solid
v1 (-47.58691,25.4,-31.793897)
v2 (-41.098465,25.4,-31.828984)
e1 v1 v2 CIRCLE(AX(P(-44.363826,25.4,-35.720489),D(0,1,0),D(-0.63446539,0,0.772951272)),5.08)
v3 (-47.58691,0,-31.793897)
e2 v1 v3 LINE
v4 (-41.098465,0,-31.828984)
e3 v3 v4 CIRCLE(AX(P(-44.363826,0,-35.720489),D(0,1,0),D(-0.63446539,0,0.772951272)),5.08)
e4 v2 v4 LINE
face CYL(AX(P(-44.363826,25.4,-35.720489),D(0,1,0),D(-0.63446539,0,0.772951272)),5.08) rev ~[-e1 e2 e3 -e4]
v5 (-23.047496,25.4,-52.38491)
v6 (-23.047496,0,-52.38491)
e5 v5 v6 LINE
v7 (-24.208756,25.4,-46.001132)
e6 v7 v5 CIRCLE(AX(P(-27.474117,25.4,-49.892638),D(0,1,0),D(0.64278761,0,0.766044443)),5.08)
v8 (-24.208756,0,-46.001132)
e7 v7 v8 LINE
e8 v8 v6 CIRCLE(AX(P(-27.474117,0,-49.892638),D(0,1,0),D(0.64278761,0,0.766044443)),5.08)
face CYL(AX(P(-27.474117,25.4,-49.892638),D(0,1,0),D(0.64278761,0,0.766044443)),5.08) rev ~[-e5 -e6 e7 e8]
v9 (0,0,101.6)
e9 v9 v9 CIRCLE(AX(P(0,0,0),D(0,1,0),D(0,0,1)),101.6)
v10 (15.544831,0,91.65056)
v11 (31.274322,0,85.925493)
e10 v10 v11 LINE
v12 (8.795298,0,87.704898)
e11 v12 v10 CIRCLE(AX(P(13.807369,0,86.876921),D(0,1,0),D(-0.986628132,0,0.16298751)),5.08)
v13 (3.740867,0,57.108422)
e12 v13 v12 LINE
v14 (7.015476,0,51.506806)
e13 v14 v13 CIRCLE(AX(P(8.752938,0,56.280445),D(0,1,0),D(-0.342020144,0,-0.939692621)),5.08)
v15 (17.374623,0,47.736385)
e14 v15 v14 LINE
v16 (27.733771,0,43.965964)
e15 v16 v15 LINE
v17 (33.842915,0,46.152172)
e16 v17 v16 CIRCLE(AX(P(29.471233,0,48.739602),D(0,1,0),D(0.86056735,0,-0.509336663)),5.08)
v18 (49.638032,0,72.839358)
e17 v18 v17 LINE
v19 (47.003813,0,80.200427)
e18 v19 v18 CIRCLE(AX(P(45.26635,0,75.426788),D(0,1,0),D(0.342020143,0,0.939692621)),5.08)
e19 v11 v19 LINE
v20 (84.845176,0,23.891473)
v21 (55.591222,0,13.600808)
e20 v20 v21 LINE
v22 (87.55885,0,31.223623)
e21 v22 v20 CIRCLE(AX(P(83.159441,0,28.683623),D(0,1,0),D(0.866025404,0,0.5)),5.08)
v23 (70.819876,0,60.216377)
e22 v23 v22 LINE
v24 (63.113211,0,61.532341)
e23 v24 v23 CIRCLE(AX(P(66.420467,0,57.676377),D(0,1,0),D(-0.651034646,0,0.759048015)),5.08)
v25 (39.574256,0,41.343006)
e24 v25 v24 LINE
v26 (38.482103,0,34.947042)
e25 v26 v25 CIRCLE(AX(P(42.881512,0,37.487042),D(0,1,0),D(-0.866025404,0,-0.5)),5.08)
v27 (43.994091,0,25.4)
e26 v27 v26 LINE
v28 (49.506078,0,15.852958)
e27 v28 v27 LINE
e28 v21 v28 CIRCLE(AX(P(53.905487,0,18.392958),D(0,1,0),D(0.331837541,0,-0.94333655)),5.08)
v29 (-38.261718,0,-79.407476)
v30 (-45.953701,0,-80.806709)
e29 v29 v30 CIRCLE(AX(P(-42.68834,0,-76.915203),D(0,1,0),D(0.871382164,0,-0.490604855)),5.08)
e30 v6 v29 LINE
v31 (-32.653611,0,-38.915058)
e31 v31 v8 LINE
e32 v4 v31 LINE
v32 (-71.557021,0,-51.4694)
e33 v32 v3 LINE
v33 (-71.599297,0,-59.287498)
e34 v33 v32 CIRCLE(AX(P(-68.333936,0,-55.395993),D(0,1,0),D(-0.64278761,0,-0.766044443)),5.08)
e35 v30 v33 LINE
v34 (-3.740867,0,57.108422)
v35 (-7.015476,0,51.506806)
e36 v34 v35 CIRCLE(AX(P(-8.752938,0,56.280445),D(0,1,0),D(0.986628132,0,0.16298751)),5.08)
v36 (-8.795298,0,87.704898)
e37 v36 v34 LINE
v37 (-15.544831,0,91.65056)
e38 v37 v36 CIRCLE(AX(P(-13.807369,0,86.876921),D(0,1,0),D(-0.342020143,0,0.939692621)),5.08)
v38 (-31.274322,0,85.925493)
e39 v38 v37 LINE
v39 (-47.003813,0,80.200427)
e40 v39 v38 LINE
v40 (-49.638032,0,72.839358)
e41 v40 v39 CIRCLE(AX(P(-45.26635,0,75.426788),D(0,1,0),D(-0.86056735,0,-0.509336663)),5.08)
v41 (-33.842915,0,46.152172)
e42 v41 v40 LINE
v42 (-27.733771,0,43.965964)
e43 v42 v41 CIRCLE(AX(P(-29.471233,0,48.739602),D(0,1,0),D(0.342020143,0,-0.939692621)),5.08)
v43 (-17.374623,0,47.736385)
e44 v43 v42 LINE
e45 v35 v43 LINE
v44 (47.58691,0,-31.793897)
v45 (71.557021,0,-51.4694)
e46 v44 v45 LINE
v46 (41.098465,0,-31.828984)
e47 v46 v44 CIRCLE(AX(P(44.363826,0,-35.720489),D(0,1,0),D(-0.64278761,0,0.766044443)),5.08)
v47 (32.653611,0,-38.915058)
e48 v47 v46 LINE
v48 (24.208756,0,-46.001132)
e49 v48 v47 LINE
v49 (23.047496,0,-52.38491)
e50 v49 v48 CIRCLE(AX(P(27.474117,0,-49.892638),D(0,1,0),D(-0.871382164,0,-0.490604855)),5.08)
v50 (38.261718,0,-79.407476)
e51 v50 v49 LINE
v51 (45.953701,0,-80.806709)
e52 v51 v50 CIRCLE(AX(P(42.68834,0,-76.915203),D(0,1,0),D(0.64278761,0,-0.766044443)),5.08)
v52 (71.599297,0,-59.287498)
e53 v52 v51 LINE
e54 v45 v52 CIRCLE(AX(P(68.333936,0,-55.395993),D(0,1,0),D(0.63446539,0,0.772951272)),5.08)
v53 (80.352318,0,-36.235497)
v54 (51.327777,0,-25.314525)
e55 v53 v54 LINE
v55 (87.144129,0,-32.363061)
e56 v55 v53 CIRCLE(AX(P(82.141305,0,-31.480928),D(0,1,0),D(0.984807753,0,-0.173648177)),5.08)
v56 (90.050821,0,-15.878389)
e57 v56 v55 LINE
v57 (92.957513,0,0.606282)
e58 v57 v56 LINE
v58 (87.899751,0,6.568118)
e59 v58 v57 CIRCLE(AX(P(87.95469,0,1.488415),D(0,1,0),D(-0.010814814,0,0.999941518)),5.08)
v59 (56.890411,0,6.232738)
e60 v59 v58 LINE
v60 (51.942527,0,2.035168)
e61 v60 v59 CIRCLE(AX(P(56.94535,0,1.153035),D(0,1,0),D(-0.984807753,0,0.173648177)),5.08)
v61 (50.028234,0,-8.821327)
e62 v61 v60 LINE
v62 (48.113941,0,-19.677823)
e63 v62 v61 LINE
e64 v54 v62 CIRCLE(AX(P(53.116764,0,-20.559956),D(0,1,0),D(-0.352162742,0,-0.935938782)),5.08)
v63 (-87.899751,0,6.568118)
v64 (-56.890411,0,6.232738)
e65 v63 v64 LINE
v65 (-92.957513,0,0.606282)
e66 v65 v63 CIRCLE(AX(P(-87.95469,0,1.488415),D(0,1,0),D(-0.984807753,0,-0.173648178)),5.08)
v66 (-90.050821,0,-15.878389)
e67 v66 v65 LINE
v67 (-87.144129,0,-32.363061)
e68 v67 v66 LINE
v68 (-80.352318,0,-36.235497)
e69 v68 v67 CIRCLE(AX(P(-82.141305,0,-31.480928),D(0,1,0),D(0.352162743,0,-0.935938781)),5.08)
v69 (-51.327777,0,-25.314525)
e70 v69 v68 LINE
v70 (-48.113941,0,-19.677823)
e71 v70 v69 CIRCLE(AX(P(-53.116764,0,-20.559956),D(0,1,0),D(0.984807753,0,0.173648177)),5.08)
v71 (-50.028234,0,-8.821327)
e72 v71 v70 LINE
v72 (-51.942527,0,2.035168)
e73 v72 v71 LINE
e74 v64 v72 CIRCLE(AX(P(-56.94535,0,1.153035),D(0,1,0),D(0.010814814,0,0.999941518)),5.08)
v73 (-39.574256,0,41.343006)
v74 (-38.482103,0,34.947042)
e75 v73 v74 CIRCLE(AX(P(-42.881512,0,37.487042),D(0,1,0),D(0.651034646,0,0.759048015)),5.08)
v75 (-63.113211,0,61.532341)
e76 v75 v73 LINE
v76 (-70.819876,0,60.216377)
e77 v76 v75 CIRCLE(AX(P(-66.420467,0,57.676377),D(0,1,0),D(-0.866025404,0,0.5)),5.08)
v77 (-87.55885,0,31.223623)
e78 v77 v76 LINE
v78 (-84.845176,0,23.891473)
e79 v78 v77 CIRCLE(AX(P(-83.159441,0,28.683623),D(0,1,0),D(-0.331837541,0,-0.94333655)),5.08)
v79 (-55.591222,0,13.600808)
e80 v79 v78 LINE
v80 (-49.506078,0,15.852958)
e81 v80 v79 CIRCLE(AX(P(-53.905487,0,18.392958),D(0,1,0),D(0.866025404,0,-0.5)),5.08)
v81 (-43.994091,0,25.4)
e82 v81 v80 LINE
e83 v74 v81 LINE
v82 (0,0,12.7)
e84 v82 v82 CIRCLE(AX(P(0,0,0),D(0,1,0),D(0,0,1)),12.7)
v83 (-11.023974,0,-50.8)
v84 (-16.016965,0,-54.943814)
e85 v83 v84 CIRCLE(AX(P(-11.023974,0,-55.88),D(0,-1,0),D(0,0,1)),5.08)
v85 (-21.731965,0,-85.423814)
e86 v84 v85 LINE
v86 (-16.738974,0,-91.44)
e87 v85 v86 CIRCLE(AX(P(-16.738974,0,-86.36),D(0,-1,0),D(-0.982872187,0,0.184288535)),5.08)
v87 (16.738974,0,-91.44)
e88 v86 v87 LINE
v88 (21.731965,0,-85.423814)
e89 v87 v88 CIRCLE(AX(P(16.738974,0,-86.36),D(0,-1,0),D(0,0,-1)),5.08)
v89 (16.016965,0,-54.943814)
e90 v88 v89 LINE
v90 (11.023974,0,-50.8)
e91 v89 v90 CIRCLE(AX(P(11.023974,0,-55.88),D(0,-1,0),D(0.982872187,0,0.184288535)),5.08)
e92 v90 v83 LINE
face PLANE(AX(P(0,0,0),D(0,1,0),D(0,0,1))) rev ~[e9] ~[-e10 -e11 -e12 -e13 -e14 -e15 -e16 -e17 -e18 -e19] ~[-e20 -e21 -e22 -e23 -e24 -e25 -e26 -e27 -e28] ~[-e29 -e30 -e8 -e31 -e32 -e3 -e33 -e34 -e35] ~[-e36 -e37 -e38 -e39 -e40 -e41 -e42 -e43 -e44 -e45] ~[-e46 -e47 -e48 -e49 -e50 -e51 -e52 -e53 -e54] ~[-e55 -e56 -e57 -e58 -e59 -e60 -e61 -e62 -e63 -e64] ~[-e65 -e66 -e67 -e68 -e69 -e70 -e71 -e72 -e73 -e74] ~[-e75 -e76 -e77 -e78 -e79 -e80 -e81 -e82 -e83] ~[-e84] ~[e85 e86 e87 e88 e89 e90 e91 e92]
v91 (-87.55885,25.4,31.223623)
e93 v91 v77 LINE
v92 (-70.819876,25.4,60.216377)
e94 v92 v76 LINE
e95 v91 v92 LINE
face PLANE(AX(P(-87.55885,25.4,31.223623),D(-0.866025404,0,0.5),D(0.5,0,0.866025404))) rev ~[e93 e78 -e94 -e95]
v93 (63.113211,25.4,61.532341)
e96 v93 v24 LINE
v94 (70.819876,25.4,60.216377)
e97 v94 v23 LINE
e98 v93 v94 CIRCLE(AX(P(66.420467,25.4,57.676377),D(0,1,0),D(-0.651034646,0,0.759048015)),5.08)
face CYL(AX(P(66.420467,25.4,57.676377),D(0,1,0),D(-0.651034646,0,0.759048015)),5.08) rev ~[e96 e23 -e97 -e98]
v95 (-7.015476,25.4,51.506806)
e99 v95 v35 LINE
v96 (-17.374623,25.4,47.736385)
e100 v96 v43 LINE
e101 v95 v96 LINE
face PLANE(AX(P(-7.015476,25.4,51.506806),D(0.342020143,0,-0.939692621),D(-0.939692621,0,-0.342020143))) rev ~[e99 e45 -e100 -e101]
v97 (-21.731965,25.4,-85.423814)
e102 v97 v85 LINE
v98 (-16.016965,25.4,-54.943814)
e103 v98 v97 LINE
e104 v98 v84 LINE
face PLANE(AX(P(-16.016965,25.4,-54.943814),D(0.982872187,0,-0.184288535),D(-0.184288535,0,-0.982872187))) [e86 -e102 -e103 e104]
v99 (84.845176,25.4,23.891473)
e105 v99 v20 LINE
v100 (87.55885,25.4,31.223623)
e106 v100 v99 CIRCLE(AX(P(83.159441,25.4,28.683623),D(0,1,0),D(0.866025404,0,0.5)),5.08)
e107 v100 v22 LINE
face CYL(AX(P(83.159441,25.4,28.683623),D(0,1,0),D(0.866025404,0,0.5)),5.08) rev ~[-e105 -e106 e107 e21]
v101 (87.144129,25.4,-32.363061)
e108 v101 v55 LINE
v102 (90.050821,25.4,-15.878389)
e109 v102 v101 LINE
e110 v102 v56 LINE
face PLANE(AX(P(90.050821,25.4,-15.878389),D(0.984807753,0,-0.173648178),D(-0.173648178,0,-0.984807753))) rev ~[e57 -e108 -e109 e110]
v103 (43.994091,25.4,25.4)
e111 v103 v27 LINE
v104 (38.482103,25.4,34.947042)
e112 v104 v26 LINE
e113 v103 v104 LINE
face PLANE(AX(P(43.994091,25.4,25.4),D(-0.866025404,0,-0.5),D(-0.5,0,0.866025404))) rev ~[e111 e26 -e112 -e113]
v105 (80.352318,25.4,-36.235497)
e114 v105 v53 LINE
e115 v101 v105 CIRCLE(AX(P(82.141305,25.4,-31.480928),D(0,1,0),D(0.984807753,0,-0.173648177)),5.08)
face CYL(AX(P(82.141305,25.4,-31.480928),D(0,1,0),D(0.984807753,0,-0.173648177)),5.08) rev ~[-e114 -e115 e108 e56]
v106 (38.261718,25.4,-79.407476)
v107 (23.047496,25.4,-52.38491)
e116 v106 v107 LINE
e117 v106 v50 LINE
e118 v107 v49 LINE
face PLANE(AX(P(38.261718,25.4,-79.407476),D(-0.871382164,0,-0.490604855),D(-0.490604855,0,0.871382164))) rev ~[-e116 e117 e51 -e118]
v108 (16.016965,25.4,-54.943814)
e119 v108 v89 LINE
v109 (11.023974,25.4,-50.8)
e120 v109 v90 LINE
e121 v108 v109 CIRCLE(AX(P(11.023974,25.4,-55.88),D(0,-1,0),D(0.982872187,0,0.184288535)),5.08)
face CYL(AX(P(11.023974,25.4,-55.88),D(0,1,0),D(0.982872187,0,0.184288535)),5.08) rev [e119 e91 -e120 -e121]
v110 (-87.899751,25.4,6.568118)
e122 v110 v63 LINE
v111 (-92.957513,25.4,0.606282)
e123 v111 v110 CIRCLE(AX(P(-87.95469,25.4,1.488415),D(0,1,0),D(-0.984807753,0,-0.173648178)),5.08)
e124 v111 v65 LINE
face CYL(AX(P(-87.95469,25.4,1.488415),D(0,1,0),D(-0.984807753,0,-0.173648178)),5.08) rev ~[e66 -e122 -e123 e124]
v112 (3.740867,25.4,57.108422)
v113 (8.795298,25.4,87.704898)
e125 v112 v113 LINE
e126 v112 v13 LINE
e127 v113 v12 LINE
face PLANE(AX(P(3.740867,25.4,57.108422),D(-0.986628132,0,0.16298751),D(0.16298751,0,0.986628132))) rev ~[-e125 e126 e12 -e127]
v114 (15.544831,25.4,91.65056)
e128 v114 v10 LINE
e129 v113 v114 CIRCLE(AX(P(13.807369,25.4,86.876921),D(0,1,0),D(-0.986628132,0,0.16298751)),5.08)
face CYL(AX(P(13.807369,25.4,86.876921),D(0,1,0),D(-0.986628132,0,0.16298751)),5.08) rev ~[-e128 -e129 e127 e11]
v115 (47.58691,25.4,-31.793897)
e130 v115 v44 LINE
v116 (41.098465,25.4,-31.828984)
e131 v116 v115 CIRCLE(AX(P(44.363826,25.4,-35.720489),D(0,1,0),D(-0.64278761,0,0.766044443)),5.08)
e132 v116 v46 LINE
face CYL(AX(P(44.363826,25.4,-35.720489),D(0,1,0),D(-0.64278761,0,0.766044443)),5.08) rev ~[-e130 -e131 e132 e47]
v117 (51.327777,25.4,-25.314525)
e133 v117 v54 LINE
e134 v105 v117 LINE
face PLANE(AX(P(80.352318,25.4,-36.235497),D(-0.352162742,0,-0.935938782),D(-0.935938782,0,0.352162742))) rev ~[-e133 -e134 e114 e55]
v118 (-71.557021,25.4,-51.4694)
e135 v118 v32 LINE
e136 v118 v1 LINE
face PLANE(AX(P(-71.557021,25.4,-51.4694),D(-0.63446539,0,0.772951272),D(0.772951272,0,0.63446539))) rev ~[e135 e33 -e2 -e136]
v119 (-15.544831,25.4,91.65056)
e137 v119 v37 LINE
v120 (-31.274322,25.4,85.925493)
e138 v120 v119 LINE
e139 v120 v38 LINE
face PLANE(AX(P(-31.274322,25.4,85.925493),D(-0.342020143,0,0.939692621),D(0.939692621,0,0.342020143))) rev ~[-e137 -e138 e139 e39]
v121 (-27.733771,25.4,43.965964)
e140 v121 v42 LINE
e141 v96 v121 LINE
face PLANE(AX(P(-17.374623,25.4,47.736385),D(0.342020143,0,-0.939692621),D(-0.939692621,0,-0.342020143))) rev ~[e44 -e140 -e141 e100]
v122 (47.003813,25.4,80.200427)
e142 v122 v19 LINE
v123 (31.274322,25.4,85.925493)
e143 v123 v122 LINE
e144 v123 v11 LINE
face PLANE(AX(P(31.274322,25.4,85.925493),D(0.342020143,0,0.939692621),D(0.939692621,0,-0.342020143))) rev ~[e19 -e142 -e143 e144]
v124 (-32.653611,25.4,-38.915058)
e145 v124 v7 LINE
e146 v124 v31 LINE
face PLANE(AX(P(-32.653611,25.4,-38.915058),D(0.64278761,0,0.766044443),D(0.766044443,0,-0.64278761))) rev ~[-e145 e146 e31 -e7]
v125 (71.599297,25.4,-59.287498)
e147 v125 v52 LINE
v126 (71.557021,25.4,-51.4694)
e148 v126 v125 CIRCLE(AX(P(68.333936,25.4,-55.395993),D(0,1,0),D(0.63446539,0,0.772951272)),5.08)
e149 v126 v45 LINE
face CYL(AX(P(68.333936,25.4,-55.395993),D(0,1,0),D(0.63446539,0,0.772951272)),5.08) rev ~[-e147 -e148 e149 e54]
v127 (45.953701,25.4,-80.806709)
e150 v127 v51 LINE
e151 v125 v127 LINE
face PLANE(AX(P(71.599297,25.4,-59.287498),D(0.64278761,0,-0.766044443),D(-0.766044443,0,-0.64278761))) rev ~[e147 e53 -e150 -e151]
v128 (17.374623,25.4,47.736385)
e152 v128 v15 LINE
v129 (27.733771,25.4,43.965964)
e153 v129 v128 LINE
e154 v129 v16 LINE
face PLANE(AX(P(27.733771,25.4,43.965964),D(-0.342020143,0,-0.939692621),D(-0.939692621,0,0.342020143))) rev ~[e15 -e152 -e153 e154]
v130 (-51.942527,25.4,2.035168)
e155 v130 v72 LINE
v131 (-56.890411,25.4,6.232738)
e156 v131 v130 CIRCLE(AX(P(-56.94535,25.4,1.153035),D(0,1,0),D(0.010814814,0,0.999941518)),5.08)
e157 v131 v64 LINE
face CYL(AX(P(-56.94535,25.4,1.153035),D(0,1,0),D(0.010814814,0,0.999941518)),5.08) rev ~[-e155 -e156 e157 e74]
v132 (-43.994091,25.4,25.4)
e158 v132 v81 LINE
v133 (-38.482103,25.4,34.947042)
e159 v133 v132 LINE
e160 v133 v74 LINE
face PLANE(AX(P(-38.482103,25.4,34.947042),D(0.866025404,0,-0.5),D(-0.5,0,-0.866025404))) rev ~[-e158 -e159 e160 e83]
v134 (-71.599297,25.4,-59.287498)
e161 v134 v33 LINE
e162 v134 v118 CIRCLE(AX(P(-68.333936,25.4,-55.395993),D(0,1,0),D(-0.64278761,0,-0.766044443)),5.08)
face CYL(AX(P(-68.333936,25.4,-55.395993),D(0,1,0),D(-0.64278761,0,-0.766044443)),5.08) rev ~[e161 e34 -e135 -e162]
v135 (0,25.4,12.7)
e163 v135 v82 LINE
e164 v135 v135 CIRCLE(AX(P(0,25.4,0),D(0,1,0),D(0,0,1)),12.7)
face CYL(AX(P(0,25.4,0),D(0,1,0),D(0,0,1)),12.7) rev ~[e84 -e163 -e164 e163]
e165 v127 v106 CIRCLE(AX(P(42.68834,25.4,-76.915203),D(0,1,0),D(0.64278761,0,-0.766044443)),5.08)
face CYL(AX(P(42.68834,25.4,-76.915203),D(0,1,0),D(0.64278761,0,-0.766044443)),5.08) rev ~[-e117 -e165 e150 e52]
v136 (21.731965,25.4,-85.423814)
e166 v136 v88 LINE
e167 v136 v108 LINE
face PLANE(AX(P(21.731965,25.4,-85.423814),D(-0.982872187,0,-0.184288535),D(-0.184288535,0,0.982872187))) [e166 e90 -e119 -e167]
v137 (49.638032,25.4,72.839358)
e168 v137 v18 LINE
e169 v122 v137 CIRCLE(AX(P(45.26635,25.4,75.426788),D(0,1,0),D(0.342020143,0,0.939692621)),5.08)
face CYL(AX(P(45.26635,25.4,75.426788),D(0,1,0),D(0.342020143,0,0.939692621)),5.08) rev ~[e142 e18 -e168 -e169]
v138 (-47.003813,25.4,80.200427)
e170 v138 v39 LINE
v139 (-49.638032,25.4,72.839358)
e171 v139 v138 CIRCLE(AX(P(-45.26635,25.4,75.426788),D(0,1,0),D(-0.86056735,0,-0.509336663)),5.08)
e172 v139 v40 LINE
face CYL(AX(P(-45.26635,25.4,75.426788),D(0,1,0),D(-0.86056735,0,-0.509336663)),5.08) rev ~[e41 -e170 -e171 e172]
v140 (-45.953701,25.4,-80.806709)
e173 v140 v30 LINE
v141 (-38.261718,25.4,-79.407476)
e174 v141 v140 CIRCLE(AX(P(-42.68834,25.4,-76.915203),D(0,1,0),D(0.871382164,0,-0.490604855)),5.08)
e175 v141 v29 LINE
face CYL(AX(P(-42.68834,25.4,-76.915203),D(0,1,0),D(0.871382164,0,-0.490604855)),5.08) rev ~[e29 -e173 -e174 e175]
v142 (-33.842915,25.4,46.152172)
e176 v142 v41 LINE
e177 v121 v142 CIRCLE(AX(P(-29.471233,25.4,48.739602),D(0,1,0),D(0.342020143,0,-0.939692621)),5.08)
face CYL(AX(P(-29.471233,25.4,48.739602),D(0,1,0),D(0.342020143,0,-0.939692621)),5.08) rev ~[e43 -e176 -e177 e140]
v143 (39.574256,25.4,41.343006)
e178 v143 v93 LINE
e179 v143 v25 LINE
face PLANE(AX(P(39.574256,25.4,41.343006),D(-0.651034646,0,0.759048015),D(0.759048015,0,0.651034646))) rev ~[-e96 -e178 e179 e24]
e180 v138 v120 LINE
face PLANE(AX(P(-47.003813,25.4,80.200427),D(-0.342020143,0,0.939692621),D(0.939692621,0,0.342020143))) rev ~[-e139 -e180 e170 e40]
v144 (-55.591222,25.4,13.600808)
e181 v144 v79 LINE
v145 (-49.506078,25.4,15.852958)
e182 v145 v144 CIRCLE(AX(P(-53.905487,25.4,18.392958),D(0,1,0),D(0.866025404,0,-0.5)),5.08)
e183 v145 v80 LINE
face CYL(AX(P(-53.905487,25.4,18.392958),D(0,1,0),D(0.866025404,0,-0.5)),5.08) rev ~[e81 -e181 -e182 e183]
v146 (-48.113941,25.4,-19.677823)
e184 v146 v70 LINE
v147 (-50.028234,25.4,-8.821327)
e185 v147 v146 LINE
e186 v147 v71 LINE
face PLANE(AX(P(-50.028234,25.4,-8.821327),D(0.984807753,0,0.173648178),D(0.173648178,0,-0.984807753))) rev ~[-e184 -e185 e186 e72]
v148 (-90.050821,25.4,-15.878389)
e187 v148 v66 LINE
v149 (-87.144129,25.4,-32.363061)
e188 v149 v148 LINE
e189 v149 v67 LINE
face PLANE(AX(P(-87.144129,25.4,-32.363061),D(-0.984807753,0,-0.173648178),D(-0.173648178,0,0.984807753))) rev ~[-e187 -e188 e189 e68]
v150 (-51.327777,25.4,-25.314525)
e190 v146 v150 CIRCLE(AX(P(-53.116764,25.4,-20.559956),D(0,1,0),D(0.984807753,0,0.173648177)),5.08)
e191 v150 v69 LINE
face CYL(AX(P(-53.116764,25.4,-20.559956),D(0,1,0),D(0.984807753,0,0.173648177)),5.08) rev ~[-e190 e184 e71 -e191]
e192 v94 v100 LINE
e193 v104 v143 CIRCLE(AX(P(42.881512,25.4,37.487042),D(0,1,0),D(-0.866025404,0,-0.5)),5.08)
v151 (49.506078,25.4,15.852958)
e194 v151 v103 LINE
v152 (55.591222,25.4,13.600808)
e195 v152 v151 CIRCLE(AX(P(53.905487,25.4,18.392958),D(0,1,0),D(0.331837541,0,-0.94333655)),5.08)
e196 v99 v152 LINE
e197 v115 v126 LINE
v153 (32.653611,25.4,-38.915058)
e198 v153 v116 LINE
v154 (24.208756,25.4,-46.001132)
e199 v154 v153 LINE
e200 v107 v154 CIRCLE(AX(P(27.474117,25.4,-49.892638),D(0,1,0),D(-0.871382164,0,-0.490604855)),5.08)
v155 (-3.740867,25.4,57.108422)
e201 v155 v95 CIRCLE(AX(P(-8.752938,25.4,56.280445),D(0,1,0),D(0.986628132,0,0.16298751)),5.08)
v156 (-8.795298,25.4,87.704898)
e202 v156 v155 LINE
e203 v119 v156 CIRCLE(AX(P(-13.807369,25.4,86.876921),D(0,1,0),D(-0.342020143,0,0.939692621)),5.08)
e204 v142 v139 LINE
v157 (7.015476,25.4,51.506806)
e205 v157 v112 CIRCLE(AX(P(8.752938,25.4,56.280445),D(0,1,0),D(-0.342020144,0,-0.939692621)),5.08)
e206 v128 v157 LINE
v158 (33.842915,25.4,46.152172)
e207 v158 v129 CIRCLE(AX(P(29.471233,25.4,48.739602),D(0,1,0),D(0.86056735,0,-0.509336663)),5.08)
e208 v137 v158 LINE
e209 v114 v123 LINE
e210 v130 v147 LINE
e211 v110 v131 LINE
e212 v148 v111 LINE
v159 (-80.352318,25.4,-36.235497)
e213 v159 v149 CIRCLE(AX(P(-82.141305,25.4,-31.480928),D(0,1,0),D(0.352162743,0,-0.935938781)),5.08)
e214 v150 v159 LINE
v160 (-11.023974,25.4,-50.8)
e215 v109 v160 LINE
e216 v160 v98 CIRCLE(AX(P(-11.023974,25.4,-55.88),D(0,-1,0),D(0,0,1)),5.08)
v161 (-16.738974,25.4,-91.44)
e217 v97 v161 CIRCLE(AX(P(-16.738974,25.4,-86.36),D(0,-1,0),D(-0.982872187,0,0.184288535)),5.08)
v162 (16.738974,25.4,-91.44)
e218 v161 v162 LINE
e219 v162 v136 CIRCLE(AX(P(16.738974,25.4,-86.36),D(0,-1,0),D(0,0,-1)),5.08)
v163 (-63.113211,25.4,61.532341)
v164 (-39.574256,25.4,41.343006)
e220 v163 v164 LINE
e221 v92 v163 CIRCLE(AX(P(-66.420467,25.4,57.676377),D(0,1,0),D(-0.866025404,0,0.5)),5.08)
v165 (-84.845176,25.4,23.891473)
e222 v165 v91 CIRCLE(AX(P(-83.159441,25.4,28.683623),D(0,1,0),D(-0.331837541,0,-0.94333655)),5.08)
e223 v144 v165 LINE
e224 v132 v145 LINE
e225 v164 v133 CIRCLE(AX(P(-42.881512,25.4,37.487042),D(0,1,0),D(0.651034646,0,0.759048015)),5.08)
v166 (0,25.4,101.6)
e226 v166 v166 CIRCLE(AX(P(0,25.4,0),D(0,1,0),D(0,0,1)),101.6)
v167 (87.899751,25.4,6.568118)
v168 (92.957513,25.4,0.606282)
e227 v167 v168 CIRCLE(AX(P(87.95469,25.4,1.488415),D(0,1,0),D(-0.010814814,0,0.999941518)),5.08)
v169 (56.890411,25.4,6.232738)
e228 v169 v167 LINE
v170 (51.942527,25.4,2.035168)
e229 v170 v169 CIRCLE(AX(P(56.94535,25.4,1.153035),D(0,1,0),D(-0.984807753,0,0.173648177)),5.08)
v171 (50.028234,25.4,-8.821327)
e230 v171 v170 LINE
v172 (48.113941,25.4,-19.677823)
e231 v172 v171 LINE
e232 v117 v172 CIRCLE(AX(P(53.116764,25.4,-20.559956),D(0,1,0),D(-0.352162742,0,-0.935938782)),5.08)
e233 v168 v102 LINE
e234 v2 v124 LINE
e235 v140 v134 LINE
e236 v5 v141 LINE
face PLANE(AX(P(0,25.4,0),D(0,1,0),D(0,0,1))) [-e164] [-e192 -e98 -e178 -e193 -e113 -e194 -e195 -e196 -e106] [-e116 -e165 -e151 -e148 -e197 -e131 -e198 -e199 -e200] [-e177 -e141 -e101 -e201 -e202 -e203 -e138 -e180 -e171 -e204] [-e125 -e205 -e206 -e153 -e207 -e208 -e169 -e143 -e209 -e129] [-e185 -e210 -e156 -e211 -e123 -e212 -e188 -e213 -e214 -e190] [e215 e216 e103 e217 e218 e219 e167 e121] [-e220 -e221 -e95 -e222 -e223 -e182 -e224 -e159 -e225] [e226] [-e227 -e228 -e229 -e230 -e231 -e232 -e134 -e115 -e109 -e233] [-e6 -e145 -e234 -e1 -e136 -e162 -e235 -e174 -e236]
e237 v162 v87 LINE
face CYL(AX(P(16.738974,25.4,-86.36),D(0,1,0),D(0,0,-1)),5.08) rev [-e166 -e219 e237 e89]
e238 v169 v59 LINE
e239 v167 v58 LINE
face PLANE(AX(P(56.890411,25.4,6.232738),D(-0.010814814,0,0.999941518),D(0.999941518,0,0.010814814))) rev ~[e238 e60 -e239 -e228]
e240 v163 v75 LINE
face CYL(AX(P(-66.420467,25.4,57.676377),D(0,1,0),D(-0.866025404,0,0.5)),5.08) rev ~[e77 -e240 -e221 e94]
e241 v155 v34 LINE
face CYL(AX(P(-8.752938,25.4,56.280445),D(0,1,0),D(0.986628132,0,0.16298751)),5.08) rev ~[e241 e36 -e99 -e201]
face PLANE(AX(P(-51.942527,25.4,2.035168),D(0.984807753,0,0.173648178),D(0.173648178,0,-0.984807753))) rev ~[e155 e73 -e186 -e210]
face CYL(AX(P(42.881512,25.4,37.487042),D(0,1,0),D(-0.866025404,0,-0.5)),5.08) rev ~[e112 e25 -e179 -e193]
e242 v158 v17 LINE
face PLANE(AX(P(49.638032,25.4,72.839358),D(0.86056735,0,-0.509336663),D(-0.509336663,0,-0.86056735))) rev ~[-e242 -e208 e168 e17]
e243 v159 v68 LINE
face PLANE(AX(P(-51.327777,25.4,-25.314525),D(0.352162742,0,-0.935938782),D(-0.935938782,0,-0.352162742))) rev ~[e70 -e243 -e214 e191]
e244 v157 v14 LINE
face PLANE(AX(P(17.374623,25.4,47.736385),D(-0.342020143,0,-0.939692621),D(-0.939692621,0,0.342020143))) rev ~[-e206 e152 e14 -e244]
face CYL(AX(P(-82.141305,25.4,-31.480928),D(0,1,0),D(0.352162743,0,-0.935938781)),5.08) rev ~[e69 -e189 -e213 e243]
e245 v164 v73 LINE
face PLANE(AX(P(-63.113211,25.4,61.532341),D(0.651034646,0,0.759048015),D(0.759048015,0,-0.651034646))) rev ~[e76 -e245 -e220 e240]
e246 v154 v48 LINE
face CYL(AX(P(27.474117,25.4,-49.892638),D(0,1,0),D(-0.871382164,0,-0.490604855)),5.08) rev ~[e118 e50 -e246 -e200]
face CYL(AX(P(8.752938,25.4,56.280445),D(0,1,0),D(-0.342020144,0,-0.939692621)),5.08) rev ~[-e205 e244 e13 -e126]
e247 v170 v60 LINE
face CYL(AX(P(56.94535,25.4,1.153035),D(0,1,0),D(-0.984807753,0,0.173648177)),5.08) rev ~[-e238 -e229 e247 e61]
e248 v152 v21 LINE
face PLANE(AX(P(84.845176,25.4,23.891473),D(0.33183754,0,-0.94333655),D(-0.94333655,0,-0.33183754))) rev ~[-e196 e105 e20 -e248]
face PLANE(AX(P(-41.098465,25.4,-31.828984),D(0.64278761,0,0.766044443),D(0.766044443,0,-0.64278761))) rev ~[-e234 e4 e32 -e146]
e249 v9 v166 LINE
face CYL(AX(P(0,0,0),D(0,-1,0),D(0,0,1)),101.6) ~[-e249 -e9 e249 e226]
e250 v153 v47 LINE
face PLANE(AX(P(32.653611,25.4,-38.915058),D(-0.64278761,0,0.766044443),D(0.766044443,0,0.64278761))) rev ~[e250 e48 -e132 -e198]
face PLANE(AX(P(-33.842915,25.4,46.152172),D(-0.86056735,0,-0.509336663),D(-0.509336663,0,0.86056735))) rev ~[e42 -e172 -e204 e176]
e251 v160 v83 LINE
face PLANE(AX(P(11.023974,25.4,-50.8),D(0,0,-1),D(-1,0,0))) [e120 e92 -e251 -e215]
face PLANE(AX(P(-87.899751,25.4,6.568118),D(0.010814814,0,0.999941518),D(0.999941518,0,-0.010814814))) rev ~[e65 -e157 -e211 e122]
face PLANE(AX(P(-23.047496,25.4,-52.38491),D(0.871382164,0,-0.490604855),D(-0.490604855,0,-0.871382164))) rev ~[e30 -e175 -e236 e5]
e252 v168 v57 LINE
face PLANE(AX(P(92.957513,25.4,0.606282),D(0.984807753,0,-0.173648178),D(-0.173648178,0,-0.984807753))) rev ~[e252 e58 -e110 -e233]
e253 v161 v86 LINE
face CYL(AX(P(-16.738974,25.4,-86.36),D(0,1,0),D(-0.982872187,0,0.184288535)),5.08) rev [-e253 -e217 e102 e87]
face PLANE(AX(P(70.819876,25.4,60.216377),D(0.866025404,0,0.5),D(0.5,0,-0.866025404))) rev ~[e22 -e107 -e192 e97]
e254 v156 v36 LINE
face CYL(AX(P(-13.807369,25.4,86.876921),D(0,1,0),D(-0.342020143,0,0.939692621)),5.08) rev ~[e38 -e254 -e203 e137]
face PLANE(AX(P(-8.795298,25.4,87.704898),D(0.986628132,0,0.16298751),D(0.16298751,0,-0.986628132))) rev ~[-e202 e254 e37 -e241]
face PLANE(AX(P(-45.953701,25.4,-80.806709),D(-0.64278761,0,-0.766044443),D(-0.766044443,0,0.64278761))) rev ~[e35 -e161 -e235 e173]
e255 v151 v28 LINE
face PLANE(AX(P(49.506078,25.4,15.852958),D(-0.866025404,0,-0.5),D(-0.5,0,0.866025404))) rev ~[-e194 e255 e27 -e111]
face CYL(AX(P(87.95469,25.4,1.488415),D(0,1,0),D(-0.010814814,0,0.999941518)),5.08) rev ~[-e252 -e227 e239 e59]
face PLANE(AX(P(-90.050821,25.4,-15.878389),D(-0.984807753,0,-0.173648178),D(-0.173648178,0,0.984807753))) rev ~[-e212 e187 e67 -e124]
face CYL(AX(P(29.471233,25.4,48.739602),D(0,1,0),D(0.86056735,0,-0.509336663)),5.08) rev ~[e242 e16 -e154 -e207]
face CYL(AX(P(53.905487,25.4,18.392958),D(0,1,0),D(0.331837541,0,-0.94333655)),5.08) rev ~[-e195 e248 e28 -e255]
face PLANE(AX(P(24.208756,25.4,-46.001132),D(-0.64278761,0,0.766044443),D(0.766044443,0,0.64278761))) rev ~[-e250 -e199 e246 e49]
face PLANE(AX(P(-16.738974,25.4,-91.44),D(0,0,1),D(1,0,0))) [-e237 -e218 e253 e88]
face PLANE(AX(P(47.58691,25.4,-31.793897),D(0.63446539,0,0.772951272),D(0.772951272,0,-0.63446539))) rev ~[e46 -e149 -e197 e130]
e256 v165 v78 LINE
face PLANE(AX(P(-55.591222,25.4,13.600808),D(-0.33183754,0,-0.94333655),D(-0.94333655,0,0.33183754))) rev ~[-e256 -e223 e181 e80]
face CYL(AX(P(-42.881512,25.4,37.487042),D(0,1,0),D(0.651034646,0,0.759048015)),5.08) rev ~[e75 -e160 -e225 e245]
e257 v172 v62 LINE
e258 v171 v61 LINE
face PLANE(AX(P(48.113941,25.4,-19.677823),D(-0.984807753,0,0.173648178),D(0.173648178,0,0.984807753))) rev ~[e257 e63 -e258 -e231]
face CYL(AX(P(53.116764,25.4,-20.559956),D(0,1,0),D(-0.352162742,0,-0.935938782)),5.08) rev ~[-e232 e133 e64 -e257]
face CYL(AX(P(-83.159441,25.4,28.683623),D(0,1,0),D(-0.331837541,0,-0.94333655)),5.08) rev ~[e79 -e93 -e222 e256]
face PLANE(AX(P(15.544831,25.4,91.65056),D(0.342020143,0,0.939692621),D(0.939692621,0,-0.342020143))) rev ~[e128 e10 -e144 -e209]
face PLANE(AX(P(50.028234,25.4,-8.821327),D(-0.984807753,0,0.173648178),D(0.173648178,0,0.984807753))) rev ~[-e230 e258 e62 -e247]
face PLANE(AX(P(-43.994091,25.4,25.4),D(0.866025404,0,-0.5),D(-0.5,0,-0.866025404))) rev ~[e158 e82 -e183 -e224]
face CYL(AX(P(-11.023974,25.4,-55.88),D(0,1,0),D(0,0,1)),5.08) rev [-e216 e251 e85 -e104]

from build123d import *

# Parameters (mm, degrees)
SKETCH1_R           = 101.6
BOSS_EXTRUDE1_DEPTH = 25.4
CUT_EXTRUDE1_DEPTH  = 25.4
SKETCH3_R           = 12.7
CUT_EXTRUDE2_DEPTH  = 25.4


with BuildPart() as part:
    # Sketch1 → Boss-Extrude1 (new body)
    with BuildSketch(Plane(origin=(0, 0, 0), x_dir=(1, 0, 0), z_dir=(0, 1, 0))):
        with Locations(Location((0, 0, 0), (0, 0, 270))):
            Circle(SKETCH1_R)
    extrude(amount=BOSS_EXTRUDE1_DEPTH)

    # Sketch2 → Cut-Extrude1 (cut)
    with BuildSketch(Plane(origin=(0, 25.4, 0), x_dir=(1, 0, 0), z_dir=(0, 1, 0))):
        with BuildLine():
            Line((0, 91.44), (16.738974461, 91.44))
            ThreePointArc((16.738974461, 91.44), (20.64808073, 89.604270053), (21.73196517, 85.423814242))
            Line((21.73196517, 85.423814242), (16.01696517, 54.943814242))
            ThreePointArc((16.01696517, 54.943814242), (14.268244513, 51.970893731), (11.023974461, 50.8))
            Line((11.023974461, 50.8), (0, 50.8))
            Line((0, 50.8), (-11.023974461, 50.8))
            ThreePointArc((-11.023974461, 50.8), (-14.268244513, 51.970893731), (-16.01696517, 54.943814242))
            Line((-16.01696517, 54.943814242), (-21.73196517, 85.423814242))
            ThreePointArc((-21.73196517, 85.423814242), (-20.64808073, 89.604270053), (-16.738974461, 91.44))
            Line((-16.738974461, 91.44), (0, 91.44))
        make_face()
        with BuildLine():
            Line((38.26171821, 79.407476156), (23.047495859, 52.38491034))
            ThreePointArc((23.047495859, 52.38491034), (22.476137132, 48.983465131), (24.208756195, 46.001131903))
            Line((24.208756195, 46.001131903), (32.653610572, 38.91505771))
            Line((32.653610572, 38.91505771), (41.098464949, 31.828983518))
            ThreePointArc((41.098464949, 31.828983518), (44.336355977, 30.640563561), (47.586910188, 31.793896828))
            Line((47.586910188, 31.793896828), (71.557020524, 51.469400264))
            ThreePointArc((71.557020524, 51.469400264), (73.413862069, 55.368522696), (71.599297399, 59.287498497))
            Line((71.599297399, 59.287498497), (58.77649903, 70.047103879))
            Line((58.77649903, 70.047103879), (45.953700661, 80.806709261))
            ThreePointArc((45.953700661, 80.806709261), (41.77916706, 81.913183611), (38.26171821, 79.407476156))
        make_face()
        with BuildLine():
            Line((80.352318408, 36.23549746), (51.327777432, 25.314524697))
            ThreePointArc((51.327777432, 25.314524697), (48.703684419, 23.076128807), (48.113940777, 19.677822943))
            Line((48.113940777, 19.677822943), (50.028233853, 8.821327425))
            Line((50.028233853, 8.821327425), (51.942526929, -2.035168092))
            ThreePointArc((51.942526929, -2.035168092), (53.658993735, -5.026826831), (56.890411059, -6.232738262))
            Line((56.890411059, -6.232738262), (87.899750706, -6.568118115))
            ThreePointArc((87.899750706, -6.568118115), (91.828481442, -4.774771782), (92.957513347, -0.606282461))
            Line((92.957513347, -0.606282461), (90.050820935, 15.878389366))
            Line((90.050820935, 15.878389366), (87.144128524, 32.363061192))
            ThreePointArc((87.144128524, 32.363061192), (84.65747826, 35.894008194), (80.352318408, 36.23549746))
        make_face()
        with BuildLine():
            Line((84.845175807, -23.891473209), (55.5912215, -13.600808392))
            ThreePointArc((55.5912215, -13.600808392), (52.142236485, -13.628784649), (49.506077743, -15.852958066))
            Line((49.506077743, -15.852958066), (43.994090512, -25.4))
            Line((43.994090512, -25.4), (38.482103282, -34.947041934))
            ThreePointArc((38.482103282, -34.947041934), (37.873991971, -38.342109081), (39.574256329, -41.34300585))
            Line((39.574256329, -41.34300585), (63.113210637, -61.532341033))
            ThreePointArc((63.113210637, -61.532341033), (67.275533788, -62.683897478), (70.819875692, -60.216377116))
            Line((70.819875692, -60.216377116), (79.189362922, -45.72))
            Line((79.189362922, -45.72), (87.558850152, -31.223622884))
            ThreePointArc((87.558850152, -31.223622884), (87.923614518, -26.920372575), (84.845175807, -23.891473209))
        make_face()
        with BuildLine():
            Line((49.638032496, -72.83935804), (33.8429152, -46.152172078))
            ThreePointArc((33.8429152, -46.152172078), (31.182856603, -43.956638301), (27.733770733, -43.965963811))
            Line((27.733770733, -43.965963811), (17.374623281, -47.736385136))
            Line((17.374623281, -47.736385136), (7.015475828, -51.506806461))
            ThreePointArc((7.015475828, -51.506806461), (4.367328442, -53.716692368), (3.740867244, -57.108421524))
            Line((3.740867244, -57.108421524), (8.795297885, -87.704897725))
            ThreePointArc((8.795297885, -87.704897725), (11.24361619, -91.26253089), (15.544831125, -91.650559689))
            Line((15.544831125, -91.650559689), (31.274321906, -85.925493245))
            Line((31.274321906, -85.925493245), (47.003812686, -80.2004268))
            ThreePointArc((47.003812686, -80.2004268), (50.049314382, -77.138411829), (49.638032496, -72.83935804))
        make_face()
        with BuildLine():
            Line((-8.795297885, -87.704897725), (-3.740867244, -57.108421524))
            ThreePointArc((-3.740867244, -57.108421524), (-4.367328442, -53.716692368), (-7.015475828, -51.506806461))
            Line((-7.015475828, -51.506806461), (-17.374623281, -47.736385136))
            Line((-17.374623281, -47.736385136), (-27.733770733, -43.965963811))
            ThreePointArc((-27.733770733, -43.965963811), (-31.182856603, -43.956638301), (-33.8429152, -46.152172078))
            Line((-33.8429152, -46.152172078), (-49.638032496, -72.83935804))
            ThreePointArc((-49.638032496, -72.83935804), (-50.049314382, -77.138411829), (-47.003812686, -80.2004268))
            Line((-47.003812686, -80.2004268), (-31.274321906, -85.925493245))
            Line((-31.274321906, -85.925493245), (-15.544831125, -91.650559689))
            ThreePointArc((-15.544831125, -91.650559689), (-11.24361619, -91.26253089), (-8.795297885, -87.704897725))
        make_face()
        with BuildLine():
            Line((-63.113210637, -61.532341033), (-39.574256329, -41.34300585))
            ThreePointArc((-39.574256329, -41.34300585), (-37.873991971, -38.342109081), (-38.482103282, -34.947041934))
            Line((-38.482103282, -34.947041934), (-43.994090512, -25.4))
            Line((-43.994090512, -25.4), (-49.506077743, -15.852958066))
            ThreePointArc((-49.506077743, -15.852958066), (-52.142236485, -13.628784649), (-55.5912215, -13.600808392))
            Line((-55.5912215, -13.600808392), (-84.845175807, -23.891473209))
            ThreePointArc((-84.845175807, -23.891473209), (-87.923614518, -26.920372575), (-87.558850152, -31.223622884))
            Line((-87.558850152, -31.223622884), (-79.189362922, -45.72))
            Line((-79.189362922, -45.72), (-70.819875692, -60.216377116))
            ThreePointArc((-70.819875692, -60.216377116), (-67.275533788, -62.683897478), (-63.113210637, -61.532341033))
        make_face()
        with BuildLine():
            Line((-87.899750706, -6.568118115), (-56.890411059, -6.232738262))
            ThreePointArc((-56.890411059, -6.232738262), (-53.658993735, -5.026826831), (-51.942526929, -2.035168092))
            Line((-51.942526929, -2.035168092), (-50.028233853, 8.821327425))
            Line((-50.028233853, 8.821327425), (-48.113940777, 19.677822943))
            ThreePointArc((-48.113940777, 19.677822943), (-48.703684419, 23.076128807), (-51.327777432, 25.314524697))
            Line((-51.327777432, 25.314524697), (-80.352318408, 36.23549746))
            ThreePointArc((-80.352318408, 36.23549746), (-84.65747826, 35.894008194), (-87.144128524, 32.363061192))
            Line((-87.144128524, 32.363061192), (-90.050820935, 15.878389366))
            Line((-90.050820935, 15.878389366), (-92.957513347, -0.606282461))
            ThreePointArc((-92.957513347, -0.606282461), (-91.828481442, -4.774771782), (-87.899750706, -6.568118115))
        make_face()
        with BuildLine():
            Line((-71.557020524, 51.469400264), (-47.586910188, 31.793896828))
            ThreePointArc((-47.586910188, 31.793896828), (-44.336355977, 30.640563561), (-41.098464949, 31.828983518))
            Line((-41.098464949, 31.828983518), (-32.653610572, 38.91505771))
            Line((-32.653610572, 38.91505771), (-24.208756195, 46.001131903))
            ThreePointArc((-24.208756195, 46.001131903), (-22.476137132, 48.983465131), (-23.047495859, 52.38491034))
            Line((-23.047495859, 52.38491034), (-38.26171821, 79.407476156))
            ThreePointArc((-38.26171821, 79.407476156), (-41.77916706, 81.913183611), (-45.953700661, 80.806709261))
            Line((-45.953700661, 80.806709261), (-58.77649903, 70.047103879))
            Line((-58.77649903, 70.047103879), (-71.599297399, 59.287498497))
            ThreePointArc((-71.599297399, 59.287498497), (-73.413862069, 55.368522696), (-71.557020524, 51.469400264))
        make_face()
    extrude(amount=-CUT_EXTRUDE1_DEPTH, mode=Mode.SUBTRACT)

    # Sketch3 → Cut-Extrude2 (cut)
    with BuildSketch(Plane(origin=(0, 25.4, 0), x_dir=(1, 0, 0), z_dir=(0, 1, 0))):
        with Locations(Location((0, 0, 0), (0, 0, 270))):
            Circle(SKETCH3_R)
    extrude(amount=-CUT_EXTRUDE2_DEPTH, mode=Mode.SUBTRACT)


solid = part.part
